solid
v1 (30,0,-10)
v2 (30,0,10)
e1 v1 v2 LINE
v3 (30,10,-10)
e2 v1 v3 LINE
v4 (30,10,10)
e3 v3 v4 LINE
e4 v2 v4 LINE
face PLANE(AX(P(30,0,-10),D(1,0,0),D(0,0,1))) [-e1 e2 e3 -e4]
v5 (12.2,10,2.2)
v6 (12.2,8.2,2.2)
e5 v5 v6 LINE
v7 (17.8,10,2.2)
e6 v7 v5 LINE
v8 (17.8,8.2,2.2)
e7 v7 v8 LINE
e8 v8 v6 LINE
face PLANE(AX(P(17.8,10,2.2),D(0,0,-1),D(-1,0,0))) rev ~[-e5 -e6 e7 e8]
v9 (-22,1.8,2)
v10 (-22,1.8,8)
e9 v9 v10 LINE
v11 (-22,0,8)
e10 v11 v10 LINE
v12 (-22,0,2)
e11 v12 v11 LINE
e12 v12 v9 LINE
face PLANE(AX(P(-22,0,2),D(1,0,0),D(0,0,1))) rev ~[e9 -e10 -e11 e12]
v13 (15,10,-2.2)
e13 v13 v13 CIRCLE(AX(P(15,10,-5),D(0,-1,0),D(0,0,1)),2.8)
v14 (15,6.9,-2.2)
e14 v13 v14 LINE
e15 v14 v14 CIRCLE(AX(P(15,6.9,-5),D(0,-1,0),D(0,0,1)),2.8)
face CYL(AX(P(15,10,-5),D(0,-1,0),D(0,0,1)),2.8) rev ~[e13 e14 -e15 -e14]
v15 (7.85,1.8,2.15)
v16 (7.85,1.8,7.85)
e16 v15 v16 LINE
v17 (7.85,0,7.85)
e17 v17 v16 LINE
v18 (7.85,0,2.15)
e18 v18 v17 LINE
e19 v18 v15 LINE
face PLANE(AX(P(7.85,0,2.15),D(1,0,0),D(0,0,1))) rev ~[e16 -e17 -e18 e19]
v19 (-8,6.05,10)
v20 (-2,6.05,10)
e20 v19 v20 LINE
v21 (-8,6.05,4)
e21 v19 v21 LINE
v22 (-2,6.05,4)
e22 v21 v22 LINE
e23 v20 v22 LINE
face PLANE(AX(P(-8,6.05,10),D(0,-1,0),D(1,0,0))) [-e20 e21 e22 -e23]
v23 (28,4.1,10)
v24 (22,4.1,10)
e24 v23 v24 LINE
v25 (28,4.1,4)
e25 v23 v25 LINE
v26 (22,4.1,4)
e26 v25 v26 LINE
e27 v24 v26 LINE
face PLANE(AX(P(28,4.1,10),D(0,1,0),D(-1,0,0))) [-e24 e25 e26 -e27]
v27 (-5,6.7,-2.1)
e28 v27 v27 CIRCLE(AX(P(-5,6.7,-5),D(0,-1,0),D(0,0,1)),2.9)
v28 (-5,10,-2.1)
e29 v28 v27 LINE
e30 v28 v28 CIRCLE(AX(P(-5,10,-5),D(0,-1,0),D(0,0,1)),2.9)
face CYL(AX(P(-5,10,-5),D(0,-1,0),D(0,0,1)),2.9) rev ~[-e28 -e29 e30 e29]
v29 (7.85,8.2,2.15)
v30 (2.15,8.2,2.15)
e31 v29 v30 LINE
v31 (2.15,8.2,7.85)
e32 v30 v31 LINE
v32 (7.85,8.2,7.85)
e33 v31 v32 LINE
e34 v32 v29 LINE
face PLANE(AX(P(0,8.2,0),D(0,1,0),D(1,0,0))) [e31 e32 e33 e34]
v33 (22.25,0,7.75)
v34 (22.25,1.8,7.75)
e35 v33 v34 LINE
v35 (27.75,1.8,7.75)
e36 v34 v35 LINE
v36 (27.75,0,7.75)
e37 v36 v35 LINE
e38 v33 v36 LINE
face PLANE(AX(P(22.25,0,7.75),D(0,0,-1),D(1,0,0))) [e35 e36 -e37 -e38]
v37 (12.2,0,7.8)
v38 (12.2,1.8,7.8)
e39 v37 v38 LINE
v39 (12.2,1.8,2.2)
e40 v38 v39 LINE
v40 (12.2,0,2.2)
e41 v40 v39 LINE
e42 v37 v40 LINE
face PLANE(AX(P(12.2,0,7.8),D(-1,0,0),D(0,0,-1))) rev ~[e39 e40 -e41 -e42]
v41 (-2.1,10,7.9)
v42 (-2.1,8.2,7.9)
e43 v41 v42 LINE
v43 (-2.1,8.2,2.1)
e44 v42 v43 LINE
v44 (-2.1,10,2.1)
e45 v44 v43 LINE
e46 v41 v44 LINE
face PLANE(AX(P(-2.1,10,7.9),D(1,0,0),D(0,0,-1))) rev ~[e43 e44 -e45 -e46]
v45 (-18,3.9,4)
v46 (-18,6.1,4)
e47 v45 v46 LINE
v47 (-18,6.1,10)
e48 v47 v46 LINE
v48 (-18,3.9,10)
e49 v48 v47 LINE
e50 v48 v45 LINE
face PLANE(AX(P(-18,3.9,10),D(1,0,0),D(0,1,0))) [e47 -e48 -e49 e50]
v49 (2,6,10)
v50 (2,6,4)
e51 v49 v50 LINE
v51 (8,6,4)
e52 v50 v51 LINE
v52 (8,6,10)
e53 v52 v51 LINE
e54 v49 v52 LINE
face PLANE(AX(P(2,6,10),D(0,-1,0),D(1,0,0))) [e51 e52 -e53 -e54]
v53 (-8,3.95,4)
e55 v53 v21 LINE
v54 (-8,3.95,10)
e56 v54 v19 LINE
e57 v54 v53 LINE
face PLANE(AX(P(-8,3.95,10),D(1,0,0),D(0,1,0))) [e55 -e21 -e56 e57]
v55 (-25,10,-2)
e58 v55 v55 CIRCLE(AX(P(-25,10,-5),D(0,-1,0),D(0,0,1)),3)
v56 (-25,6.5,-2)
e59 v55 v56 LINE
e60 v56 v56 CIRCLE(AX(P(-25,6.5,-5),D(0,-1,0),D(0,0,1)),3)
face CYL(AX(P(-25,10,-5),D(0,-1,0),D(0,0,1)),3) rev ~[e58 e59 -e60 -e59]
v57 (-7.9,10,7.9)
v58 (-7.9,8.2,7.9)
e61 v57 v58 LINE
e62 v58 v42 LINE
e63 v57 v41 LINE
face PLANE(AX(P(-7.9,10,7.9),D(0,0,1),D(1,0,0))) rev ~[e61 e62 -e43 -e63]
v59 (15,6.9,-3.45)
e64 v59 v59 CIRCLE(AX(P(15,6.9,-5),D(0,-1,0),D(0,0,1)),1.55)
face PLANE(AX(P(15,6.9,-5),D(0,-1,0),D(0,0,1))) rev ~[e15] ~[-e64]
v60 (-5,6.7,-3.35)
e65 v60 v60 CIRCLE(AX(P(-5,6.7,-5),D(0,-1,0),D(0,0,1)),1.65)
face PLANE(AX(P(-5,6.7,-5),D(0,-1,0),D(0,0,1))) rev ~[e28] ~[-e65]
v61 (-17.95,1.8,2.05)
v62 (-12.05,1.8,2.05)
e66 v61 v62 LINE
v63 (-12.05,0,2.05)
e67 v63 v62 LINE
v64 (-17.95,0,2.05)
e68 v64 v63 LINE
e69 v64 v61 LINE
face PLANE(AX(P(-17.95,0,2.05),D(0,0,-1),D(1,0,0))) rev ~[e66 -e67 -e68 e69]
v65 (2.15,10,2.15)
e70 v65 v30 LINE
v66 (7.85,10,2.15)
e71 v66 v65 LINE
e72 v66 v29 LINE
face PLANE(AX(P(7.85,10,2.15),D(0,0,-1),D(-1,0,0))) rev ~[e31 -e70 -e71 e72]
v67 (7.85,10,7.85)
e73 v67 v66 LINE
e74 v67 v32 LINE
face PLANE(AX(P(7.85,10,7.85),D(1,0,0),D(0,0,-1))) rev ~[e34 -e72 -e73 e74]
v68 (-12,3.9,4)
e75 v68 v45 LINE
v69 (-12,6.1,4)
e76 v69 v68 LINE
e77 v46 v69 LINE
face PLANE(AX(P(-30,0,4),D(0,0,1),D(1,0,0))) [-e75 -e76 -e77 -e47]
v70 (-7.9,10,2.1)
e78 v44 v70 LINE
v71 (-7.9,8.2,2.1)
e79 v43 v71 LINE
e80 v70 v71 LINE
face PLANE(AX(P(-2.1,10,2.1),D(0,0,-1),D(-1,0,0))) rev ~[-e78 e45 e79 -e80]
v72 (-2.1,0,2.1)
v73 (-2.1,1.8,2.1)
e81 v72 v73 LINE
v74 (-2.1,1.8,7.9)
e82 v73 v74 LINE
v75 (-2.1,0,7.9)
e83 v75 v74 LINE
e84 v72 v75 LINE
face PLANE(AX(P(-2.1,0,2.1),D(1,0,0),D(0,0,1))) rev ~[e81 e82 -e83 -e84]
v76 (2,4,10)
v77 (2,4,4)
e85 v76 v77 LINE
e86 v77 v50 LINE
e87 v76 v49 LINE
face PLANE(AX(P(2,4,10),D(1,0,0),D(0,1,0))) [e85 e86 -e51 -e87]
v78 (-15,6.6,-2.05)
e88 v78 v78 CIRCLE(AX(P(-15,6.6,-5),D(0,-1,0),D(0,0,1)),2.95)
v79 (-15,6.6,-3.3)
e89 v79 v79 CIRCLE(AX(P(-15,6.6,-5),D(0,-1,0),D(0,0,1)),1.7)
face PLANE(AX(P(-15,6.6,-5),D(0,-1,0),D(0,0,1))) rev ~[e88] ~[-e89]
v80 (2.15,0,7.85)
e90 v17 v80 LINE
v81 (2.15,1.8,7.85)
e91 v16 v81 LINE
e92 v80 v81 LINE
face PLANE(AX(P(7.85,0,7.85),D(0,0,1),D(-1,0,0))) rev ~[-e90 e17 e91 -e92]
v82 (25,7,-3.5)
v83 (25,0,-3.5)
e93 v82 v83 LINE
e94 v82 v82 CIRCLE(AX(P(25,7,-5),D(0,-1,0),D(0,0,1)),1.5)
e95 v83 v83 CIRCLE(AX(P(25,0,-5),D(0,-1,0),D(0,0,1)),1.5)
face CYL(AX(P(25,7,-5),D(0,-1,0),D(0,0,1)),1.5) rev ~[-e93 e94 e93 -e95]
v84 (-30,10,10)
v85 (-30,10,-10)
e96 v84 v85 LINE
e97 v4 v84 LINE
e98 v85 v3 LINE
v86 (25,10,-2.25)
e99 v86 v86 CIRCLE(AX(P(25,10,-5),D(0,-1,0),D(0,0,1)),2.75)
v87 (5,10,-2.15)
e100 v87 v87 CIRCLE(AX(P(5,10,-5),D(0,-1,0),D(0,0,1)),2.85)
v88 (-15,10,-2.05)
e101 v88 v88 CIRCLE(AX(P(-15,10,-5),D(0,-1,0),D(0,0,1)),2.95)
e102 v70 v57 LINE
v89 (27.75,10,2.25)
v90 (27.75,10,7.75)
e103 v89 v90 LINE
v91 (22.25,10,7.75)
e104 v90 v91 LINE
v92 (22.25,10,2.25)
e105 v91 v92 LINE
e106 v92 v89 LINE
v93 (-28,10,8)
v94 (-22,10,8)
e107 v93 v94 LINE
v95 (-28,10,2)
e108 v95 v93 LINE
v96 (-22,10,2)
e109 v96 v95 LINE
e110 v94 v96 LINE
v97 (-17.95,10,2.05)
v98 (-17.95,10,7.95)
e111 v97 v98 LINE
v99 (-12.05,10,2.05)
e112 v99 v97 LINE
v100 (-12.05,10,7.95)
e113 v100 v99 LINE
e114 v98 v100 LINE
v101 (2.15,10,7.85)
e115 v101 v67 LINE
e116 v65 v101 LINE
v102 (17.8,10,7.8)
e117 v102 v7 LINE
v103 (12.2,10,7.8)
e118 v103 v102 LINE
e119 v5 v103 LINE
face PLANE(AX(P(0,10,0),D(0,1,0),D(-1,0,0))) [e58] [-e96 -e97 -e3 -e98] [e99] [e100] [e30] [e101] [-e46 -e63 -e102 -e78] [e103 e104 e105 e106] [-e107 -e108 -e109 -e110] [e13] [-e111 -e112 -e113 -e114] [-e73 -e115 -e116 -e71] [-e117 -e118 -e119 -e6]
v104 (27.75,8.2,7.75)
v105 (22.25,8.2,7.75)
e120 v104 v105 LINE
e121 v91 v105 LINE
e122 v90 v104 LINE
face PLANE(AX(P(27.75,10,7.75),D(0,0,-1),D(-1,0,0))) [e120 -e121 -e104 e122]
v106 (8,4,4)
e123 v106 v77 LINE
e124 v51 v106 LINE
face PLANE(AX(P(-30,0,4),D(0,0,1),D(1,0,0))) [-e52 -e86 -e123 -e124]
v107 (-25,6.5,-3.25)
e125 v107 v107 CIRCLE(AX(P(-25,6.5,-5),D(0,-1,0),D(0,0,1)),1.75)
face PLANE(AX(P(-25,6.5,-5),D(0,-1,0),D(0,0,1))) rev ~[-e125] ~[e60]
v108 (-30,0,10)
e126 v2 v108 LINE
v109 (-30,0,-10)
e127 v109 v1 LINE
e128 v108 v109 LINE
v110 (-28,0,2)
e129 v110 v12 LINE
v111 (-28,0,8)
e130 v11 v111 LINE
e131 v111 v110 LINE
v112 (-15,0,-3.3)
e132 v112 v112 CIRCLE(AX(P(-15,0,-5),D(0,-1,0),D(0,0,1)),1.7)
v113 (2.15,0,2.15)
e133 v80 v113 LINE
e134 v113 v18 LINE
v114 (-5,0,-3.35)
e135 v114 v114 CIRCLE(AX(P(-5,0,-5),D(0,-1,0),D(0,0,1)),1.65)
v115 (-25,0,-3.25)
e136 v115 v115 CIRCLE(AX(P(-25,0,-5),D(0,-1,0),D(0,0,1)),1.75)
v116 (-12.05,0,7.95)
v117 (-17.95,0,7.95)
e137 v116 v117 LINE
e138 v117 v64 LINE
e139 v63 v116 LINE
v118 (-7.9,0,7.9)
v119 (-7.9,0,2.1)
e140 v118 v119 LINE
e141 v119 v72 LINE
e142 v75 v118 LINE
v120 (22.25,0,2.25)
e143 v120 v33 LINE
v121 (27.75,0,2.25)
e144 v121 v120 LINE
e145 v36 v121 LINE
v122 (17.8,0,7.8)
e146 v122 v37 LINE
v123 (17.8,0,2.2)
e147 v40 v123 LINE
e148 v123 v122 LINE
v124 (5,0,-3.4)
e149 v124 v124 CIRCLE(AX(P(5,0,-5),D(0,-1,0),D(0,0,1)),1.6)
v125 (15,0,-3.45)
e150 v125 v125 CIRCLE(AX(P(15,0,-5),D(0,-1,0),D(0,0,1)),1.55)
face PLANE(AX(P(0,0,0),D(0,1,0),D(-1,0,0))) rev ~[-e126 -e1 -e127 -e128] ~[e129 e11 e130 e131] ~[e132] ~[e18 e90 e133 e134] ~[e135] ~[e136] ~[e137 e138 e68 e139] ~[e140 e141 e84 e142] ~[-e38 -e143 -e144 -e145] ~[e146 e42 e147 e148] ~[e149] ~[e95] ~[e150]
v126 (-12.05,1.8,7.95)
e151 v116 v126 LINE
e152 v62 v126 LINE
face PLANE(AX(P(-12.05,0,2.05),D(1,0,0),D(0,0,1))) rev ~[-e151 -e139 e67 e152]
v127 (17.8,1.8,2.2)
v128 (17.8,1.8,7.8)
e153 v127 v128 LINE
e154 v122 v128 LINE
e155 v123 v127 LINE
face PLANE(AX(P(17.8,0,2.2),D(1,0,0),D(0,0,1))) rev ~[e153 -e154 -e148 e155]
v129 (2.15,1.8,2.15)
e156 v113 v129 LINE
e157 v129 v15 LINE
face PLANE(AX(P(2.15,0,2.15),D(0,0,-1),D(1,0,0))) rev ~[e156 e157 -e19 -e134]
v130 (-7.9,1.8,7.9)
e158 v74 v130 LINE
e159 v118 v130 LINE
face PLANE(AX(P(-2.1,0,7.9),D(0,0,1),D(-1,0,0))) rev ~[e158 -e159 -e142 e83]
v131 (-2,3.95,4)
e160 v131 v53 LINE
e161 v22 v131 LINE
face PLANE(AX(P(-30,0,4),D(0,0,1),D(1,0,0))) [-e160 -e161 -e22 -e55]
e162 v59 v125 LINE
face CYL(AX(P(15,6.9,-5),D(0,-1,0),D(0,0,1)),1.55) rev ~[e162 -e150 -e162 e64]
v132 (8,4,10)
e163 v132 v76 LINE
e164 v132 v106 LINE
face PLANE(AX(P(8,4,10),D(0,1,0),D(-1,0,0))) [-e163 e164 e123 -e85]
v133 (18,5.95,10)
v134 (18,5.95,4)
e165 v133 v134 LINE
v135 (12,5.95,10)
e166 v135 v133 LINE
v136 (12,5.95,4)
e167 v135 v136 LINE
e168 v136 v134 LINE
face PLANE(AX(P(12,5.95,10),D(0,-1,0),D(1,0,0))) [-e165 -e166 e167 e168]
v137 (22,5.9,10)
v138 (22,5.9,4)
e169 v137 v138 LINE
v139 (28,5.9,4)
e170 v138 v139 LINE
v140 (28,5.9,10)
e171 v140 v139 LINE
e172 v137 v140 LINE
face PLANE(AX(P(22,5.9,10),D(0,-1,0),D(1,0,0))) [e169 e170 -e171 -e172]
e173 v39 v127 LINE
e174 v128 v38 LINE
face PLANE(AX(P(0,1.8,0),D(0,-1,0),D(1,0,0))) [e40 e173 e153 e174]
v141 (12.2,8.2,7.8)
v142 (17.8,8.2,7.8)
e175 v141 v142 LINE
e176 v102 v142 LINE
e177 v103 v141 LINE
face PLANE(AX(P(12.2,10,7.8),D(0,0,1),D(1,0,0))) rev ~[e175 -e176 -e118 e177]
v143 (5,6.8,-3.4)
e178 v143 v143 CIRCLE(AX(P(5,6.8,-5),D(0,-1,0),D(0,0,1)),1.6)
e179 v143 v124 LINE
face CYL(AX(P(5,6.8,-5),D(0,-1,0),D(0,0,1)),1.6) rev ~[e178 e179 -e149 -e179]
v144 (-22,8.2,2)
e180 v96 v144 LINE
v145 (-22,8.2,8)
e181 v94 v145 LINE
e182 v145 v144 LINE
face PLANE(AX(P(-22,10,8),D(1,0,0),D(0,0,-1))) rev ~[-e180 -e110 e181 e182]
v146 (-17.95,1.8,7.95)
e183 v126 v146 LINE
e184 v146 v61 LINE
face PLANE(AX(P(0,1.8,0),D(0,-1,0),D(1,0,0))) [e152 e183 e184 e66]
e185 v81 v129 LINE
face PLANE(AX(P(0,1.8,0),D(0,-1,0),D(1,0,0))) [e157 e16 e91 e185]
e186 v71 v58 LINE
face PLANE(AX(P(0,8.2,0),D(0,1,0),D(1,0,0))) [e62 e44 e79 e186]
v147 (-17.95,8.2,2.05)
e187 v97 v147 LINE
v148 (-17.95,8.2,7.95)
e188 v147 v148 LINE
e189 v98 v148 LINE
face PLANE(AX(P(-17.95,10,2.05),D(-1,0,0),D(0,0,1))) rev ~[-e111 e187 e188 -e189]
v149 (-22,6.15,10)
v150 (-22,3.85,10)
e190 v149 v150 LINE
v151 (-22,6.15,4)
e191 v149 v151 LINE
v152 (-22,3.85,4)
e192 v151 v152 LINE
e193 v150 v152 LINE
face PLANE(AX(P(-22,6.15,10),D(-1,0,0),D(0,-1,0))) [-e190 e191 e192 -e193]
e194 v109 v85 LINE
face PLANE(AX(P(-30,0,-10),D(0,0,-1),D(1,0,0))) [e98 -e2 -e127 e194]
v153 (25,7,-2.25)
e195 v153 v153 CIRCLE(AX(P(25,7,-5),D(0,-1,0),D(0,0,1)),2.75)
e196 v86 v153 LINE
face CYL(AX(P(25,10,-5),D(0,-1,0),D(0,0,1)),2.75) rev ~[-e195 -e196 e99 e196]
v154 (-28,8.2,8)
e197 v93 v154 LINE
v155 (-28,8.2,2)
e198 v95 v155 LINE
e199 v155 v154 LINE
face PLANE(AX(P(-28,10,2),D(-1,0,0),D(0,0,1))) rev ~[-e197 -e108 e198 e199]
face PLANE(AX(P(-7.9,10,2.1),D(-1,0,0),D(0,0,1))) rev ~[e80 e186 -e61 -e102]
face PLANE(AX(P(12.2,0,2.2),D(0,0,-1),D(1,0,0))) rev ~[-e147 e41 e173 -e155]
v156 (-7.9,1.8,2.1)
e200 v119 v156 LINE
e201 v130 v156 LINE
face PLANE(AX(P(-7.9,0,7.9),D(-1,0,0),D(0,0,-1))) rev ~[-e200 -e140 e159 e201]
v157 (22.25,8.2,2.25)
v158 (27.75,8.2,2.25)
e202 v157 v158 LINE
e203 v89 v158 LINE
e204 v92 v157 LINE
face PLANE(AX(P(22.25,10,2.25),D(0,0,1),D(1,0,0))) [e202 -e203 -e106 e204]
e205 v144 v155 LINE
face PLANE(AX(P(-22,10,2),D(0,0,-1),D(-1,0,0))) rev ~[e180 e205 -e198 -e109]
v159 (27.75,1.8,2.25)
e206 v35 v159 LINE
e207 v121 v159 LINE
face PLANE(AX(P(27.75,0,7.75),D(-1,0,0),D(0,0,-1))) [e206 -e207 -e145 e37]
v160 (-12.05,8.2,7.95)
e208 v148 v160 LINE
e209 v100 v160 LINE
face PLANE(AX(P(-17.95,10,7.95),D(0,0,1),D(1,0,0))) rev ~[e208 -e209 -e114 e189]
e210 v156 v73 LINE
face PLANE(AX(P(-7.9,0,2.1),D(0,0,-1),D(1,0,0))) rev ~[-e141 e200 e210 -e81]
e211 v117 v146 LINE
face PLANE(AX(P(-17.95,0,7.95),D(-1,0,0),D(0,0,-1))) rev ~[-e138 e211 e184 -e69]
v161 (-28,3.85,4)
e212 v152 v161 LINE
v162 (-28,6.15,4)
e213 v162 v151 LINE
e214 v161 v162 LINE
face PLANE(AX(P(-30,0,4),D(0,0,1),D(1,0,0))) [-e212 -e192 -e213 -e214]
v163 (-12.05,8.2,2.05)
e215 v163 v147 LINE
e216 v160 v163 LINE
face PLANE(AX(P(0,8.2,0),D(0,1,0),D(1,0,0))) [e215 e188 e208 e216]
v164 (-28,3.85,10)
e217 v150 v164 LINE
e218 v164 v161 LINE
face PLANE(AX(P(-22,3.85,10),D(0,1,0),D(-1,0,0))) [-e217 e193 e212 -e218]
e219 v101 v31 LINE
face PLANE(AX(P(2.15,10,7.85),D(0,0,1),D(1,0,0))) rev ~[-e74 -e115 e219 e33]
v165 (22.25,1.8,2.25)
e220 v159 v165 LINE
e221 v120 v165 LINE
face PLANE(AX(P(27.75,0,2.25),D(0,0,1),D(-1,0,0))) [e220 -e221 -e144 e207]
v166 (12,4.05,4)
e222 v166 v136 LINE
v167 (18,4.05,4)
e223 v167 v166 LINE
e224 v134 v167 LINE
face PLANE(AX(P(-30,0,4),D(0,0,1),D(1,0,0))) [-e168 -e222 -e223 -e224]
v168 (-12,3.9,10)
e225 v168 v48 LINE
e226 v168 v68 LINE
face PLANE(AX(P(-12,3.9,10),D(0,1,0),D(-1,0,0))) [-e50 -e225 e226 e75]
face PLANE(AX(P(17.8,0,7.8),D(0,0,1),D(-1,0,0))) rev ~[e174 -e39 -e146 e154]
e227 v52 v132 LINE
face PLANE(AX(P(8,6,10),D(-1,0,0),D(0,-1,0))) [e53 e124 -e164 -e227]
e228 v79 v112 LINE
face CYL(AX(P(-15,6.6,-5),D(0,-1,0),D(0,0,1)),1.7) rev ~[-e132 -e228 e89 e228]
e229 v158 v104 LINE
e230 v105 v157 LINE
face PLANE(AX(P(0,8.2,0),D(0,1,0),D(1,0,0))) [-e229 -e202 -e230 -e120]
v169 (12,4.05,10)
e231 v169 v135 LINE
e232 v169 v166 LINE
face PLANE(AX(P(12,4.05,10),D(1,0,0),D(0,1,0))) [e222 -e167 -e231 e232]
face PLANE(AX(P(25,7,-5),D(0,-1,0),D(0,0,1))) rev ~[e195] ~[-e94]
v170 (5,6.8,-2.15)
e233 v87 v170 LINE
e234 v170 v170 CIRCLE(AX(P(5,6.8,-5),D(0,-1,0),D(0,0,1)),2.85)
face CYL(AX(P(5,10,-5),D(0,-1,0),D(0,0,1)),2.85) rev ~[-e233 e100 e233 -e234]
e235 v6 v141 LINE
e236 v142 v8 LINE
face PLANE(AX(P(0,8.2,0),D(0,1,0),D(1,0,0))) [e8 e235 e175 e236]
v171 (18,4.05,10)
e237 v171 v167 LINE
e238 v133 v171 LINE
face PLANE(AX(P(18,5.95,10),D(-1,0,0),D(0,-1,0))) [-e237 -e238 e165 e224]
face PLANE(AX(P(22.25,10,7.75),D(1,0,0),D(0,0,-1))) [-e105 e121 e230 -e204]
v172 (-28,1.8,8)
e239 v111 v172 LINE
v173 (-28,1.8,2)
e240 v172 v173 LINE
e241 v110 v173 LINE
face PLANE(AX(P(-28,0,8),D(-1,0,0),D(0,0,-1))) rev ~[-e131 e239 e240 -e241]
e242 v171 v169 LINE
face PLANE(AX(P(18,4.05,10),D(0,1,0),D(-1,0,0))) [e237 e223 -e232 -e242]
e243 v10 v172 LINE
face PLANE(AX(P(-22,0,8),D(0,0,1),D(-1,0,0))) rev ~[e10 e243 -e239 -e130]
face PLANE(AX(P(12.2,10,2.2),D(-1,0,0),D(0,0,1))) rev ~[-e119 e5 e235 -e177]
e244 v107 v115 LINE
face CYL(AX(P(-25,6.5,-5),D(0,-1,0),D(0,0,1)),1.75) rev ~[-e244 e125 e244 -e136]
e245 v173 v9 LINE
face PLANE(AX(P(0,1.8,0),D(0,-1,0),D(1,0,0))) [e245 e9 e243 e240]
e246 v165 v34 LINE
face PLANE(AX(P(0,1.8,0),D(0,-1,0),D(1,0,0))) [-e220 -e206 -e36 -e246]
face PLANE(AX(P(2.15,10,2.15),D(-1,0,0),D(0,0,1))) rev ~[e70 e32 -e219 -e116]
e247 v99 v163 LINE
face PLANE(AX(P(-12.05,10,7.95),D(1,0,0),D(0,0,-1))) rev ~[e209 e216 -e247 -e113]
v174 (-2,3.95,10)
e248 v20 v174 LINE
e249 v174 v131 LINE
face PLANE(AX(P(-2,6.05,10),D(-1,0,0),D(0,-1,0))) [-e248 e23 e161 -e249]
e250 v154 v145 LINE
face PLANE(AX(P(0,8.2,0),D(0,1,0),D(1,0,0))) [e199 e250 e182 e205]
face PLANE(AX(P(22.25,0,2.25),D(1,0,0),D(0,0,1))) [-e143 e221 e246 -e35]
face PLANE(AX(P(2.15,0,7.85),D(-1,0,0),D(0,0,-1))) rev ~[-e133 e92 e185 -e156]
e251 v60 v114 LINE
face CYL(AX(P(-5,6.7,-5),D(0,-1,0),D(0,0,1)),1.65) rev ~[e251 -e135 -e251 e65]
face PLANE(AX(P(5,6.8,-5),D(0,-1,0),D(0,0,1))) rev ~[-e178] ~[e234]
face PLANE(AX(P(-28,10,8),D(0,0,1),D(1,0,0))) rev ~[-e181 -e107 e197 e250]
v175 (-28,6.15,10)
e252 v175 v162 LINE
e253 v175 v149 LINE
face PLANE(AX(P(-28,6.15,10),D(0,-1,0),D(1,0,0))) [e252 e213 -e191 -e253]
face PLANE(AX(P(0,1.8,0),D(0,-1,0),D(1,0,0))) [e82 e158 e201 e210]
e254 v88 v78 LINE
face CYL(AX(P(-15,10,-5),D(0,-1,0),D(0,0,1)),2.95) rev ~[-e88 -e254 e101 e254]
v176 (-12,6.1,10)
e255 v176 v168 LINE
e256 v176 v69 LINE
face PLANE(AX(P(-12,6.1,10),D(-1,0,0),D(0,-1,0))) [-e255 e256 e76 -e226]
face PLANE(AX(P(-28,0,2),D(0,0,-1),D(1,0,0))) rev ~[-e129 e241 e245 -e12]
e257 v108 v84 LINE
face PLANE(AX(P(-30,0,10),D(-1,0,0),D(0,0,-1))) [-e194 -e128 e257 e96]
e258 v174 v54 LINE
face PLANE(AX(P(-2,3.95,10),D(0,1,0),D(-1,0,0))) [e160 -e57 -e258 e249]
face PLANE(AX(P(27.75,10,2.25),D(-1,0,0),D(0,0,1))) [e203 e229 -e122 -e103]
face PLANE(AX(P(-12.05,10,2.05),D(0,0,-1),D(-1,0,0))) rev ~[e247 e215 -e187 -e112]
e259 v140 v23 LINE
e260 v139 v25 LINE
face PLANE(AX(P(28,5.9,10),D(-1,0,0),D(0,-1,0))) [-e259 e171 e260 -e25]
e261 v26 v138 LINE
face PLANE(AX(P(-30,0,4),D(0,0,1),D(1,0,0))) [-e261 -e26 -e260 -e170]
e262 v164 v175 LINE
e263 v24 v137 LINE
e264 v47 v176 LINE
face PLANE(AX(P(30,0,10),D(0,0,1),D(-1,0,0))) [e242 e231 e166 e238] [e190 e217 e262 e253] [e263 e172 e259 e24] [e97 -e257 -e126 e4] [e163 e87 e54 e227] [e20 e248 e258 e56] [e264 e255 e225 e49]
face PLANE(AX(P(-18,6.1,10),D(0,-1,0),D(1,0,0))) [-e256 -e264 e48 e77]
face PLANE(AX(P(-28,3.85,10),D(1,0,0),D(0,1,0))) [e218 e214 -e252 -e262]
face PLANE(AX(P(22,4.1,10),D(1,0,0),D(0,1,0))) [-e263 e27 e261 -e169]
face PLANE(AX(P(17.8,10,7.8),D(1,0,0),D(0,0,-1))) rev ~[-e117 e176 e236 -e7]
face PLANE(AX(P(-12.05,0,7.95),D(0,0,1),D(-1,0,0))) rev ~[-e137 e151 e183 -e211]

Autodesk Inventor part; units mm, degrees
ref_plane "YZ Plane" through (0, 0, 0) normal (1, 0, 0) x (0, 1, 0)
ref_plane "XZ Plane" through (0, 0, 0) normal (0, 1, 0) x (-1, 0, 0)
ref_plane "XY Plane" through (0, 0, 0) normal (0, 0, 1) x (1, 0, 0)
sketch "Sketch1" plane through (0, 0, 0) normal (0, 1, 0) x (-1, 0, 0)
  line L0 (-30, 10) -> (30, 10)
  line L1 (30, 10) -> (30, -10)
  line L2 (30, -10) -> (-30, -10)
  line L3 (-30, -10) -> (-30, 10)
  point P0 (0, 0)
  point P1 (30, 0)
  point P2 (0, 10)
  dimension "d0" = 60
  dimension "d1" = 20
extrude "Extrusion1" add sketch "Sketch1" along normal blind 10
sketch "Sketch2" plane through (0, 10, 0) normal (0, 1, 0) x (1, 0, 0)
  line L0 (27.75, -7.75) -> (22.25, -7.75)
  line L1 (22.25, -7.75) -> (22.25, -2.25)
  line L2 (22.25, -2.25) -> (27.75, -2.25)
  line L3 (27.75, -2.25) -> (27.75, -7.75)
  line L4 (30, -10) -> (30, 10) projected
  line L5 (-30, -10) -> (30, -10) projected
  line L6 (12.2, -7.8) -> (17.8, -7.8)
  line L7 (17.8, -7.8) -> (17.8, -2.2)
  line L8 (17.8, -2.2) -> (12.2, -2.2)
  line L9 (12.2, -2.2) -> (12.2, -7.8)
  line L10 (2.15, -7.85) -> (7.85, -7.85)
  line L11 (7.85, -7.85) -> (7.85, -2.15)
  line L12 (7.85, -2.15) -> (2.15, -2.15)
  line L13 (2.15, -2.15) -> (2.15, -7.85)
  line L14 (-7.9, -7.9) -> (-2.1, -7.9)
  line L15 (-2.1, -7.9) -> (-2.1, -2.1)
  line L16 (-2.1, -2.1) -> (-7.9, -2.1)
  line L17 (-7.9, -2.1) -> (-7.9, -7.9)
  line L18 (-17.95, -7.95) -> (-12.05, -7.95)
  line L19 (-12.05, -7.95) -> (-12.05, -2.05)
  line L20 (-12.05, -2.05) -> (-17.95, -2.05)
  line L21 (-17.95, -2.05) -> (-17.95, -7.95)
  line L22 (-28, -8) -> (-22, -8)
  line L23 (-22, -8) -> (-22, -2)
  line L24 (-22, -2) -> (-28, -2)
  line L25 (-28, -2) -> (-28, -8)
  point P0 (0, 0)
  point P1 (-12.05, -5)
  point P2 (-7.9, -5)
  point P3 (-2.1, -5)
  point P4 (2.15, -5)
  point P5 (7.85, -5)
  point P6 (12.2, -5)
  point P7 (17.8, -5)
  point P8 (22.25, -5)
  point P9 (15, -7.8)
  point P10 (25, -7.75)
  point P11 (5, -7.85)
  point P12 (-5, -7.9)
  point P13 (-15, -7.95)
  point P14 (-25, -8)
  point P15 (-22, -5)
  point P16 (-17.95, -5)
  dimension "d9" = 5.5
  dimension "d10" = 5.6
  dimension "d11" = 5.7
  dimension "d12" = 5.8
  dimension "d13" = 5.9
  dimension "d14" = 10
  dimension "d15" = 10
  dimension "d16" = 10
  dimension "d17" = 10
  dimension "d18" = 5
  dimension "d19" = 6
  dimension "d20" = 10
  dimension "d65" = 5
extrude "Extrusion2" cut sketch "Sketch2" against normal blind 1.8
sketch "Sketch3" plane through (-30, 0, 10) normal (0, 0, 1) x (1, 0, 0)
  line L0 (2, 6.15) -> (8, 6.15)
  line L1 (8, 6.15) -> (8, 3.85)
  line L2 (8, 3.85) -> (2, 3.85)
  line L3 (2, 3.85) -> (2, 6.15)
  line L4 (12, 6.1) -> (18, 6.1)
  line L5 (18, 6.1) -> (18, 3.9)
  line L6 (18, 3.9) -> (12, 3.9)
  line L7 (12, 3.9) -> (12, 6.1)
  line L8 (22, 6.05) -> (28, 6.05)
  line L9 (28, 6.05) -> (28, 3.95)
  line L10 (28, 3.95) -> (22, 3.95)
  line L11 (22, 3.95) -> (22, 6.05)
  line L12 (32, 6) -> (38, 6)
  line L13 (38, 6) -> (38, 4)
  line L14 (38, 4) -> (32, 4)
  line L15 (32, 4) -> (32, 6)
  line L16 (42, 5.95) -> (48, 5.95)
  line L17 (48, 5.95) -> (48, 4.05)
  line L18 (48, 4.05) -> (42, 4.05)
  line L19 (42, 4.05) -> (42, 5.95)
  line L20 (52, 5.9) -> (58, 5.9)
  line L21 (58, 5.9) -> (58, 4.1)
  line L22 (58, 4.1) -> (52, 4.1)
  line L23 (52, 4.1) -> (52, 5.9)
  line L24 (60, 0) -> (60, 10) projected
  point P0 (30, 0)
  point P1 (55, 5.9)
  point P2 (45, 5.95)
  point P3 (35, 6)
  point P4 (25, 6.05)
  point P5 (15, 6.1)
  point P6 (5, 6.15)
  point P7 (8, 5)
  point P8 (12, 5)
  point P9 (18, 5)
  point P10 (22, 5)
  point P11 (28, 5)
  point P12 (32, 5)
  point P13 (38, 5)
  point P14 (42, 5)
  point P15 (48, 5)
  point P16 (52, 5)
  point P17 (58, 5)
  point P18 (60, 5)
  dimension "d23" = 6
  dimension "d24" = 1.8
  dimension "d25" = 5
  dimension "d26" = 10
  dimension "d27" = 10
  dimension "d28" = 10
  dimension "d29" = 10
  dimension "d30" = 10
  dimension "d31" = 1.9
  dimension "d32" = 2
  dimension "d33" = 2.1
  dimension "d34" = 2.2
  dimension "d35" = 2.3
extrude "Extrusion3" cut sketch "Sketch3" against normal blind 6
sketch "Sketch4" plane through (0, 0, 0) normal (0, -1, 0) x (1, 0, 0)
  line L0 (27.75, 2.25) -> (22.25, 2.25)
  line L1 (22.25, 2.25) -> (22.25, 7.75)
  line L2 (22.25, 7.75) -> (27.75, 7.75)
  line L3 (27.75, 7.75) -> (27.75, 2.25)
  line L4 (12.2, 2.2) -> (17.8, 2.2)
  line L5 (17.8, 2.2) -> (17.8, 7.8)
  line L6 (17.8, 7.8) -> (12.2, 7.8)
  line L7 (12.2, 7.8) -> (12.2, 2.2)
  line L8 (2.15, 2.15) -> (7.85, 2.15)
  line L9 (7.85, 2.15) -> (7.85, 7.85)
  line L10 (7.85, 7.85) -> (2.15, 7.85)
  line L11 (2.15, 7.85) -> (2.15, 2.15)
  line L12 (-7.9, 2.1) -> (-2.1, 2.1)
  line L13 (-2.1, 2.1) -> (-2.1, 7.9)
  line L14 (-2.1, 7.9) -> (-7.9, 7.9)
  line L15 (-7.9, 7.9) -> (-7.9, 2.1)
  line L16 (-17.95, 2.05) -> (-12.05, 2.05)
  line L17 (-12.05, 2.05) -> (-12.05, 7.95)
  line L18 (-12.05, 7.95) -> (-17.95, 7.95)
  line L19 (-17.95, 7.95) -> (-17.95, 2.05)
  line L20 (-28, 2) -> (-22, 2)
  line L21 (-22, 2) -> (-22, 8)
  line L22 (-22, 8) -> (-28, 8)
  line L23 (-28, 8) -> (-28, 2)
  line L24 (30, 10) -> (-30, 10) projected
  line L25 (30, -10) -> (30, 10) projected
  point P0 (0, 0)
  point P1 (-12.05, 5)
  point P2 (-7.9, 5)
  point P3 (-2.1, 5)
  point P4 (2.15, 5)
  point P5 (7.85, 5)
  point P6 (12.2, 5)
  point P7 (17.8, 5)
  point P8 (22.25, 5)
  point P9 (15, 2.2)
  point P10 (25, 2.25)
  point P11 (5, 2.15)
  point P12 (-5, 2.1)
  point P13 (-15, 2.05)
  point P14 (-25, 2)
  point P15 (-22, 5)
  point P16 (-17.95, 5)
  dimension "d38" = 5.5
  dimension "d39" = 5.6
  dimension "d40" = 5.7
  dimension "d41" = 5.8
  dimension "d42" = 5.9
  dimension "d43" = 10
  dimension "d44" = 10
  dimension "d45" = 10
  dimension "d46" = 10
  dimension "d47" = 6
  dimension "d48" = 10
  dimension "d51" = 5
  dimension "d53" = 5
extrude "Extrusion4" cut sketch "Sketch4" against normal blind 1.8
hole "Hole1" at (25, 10, -5) direction (0, -1, 0) diameter 3 end through all counterbore diameter 5.5 counterbore depth 3
hole "Hole2" at (15, 10, -5) direction (0, -1, 0) diameter 3.1 end through all counterbore diameter 5.6 counterbore depth 3.1
hole "Hole3" at (5, 10, -5) direction (0, -1, 0) diameter 3.2 end through all counterbore diameter 5.7 counterbore depth 3.2
hole "Hole4" at (-5, 10, -5) direction (0, -1, 0) diameter 3.3 end through all counterbore diameter 5.8 counterbore depth 3.3
hole "Hole5" at (-15, 10, -5) direction (0, -1, 0) diameter 3.4 end through all counterbore diameter 5.9 counterbore depth 3.4
hole "Hole6" at (-25, 10, -5) direction (0, -1, 0) diameter 3.5 end through all counterbore diameter 6 counterbore depth 3.5
equation "\"d9\" = nut_A"
equation "\"d21\" = nut_B"
equation "\"d24\" = nut_B"
equation "\"d38\" = d49"
equation "\"d54\" = nut_B"
equation "\"d58\" = screw_m3_A"
equation "\"d60\" = screw_m3_C"
equation "\"d61\" = screw_m3_D"
equation "\"nut_A\" = 5.5"
equation "\"nut_B\" = 1.8"
equation "\"d49\" = 5.5"
equation "\"screw_m3_A\" = 3"
equation "\"screw_m3_C\" = 5.5"
equation "\"screw_m3_D\" = 3"
properties part number "TOLERANCE_TEST"
